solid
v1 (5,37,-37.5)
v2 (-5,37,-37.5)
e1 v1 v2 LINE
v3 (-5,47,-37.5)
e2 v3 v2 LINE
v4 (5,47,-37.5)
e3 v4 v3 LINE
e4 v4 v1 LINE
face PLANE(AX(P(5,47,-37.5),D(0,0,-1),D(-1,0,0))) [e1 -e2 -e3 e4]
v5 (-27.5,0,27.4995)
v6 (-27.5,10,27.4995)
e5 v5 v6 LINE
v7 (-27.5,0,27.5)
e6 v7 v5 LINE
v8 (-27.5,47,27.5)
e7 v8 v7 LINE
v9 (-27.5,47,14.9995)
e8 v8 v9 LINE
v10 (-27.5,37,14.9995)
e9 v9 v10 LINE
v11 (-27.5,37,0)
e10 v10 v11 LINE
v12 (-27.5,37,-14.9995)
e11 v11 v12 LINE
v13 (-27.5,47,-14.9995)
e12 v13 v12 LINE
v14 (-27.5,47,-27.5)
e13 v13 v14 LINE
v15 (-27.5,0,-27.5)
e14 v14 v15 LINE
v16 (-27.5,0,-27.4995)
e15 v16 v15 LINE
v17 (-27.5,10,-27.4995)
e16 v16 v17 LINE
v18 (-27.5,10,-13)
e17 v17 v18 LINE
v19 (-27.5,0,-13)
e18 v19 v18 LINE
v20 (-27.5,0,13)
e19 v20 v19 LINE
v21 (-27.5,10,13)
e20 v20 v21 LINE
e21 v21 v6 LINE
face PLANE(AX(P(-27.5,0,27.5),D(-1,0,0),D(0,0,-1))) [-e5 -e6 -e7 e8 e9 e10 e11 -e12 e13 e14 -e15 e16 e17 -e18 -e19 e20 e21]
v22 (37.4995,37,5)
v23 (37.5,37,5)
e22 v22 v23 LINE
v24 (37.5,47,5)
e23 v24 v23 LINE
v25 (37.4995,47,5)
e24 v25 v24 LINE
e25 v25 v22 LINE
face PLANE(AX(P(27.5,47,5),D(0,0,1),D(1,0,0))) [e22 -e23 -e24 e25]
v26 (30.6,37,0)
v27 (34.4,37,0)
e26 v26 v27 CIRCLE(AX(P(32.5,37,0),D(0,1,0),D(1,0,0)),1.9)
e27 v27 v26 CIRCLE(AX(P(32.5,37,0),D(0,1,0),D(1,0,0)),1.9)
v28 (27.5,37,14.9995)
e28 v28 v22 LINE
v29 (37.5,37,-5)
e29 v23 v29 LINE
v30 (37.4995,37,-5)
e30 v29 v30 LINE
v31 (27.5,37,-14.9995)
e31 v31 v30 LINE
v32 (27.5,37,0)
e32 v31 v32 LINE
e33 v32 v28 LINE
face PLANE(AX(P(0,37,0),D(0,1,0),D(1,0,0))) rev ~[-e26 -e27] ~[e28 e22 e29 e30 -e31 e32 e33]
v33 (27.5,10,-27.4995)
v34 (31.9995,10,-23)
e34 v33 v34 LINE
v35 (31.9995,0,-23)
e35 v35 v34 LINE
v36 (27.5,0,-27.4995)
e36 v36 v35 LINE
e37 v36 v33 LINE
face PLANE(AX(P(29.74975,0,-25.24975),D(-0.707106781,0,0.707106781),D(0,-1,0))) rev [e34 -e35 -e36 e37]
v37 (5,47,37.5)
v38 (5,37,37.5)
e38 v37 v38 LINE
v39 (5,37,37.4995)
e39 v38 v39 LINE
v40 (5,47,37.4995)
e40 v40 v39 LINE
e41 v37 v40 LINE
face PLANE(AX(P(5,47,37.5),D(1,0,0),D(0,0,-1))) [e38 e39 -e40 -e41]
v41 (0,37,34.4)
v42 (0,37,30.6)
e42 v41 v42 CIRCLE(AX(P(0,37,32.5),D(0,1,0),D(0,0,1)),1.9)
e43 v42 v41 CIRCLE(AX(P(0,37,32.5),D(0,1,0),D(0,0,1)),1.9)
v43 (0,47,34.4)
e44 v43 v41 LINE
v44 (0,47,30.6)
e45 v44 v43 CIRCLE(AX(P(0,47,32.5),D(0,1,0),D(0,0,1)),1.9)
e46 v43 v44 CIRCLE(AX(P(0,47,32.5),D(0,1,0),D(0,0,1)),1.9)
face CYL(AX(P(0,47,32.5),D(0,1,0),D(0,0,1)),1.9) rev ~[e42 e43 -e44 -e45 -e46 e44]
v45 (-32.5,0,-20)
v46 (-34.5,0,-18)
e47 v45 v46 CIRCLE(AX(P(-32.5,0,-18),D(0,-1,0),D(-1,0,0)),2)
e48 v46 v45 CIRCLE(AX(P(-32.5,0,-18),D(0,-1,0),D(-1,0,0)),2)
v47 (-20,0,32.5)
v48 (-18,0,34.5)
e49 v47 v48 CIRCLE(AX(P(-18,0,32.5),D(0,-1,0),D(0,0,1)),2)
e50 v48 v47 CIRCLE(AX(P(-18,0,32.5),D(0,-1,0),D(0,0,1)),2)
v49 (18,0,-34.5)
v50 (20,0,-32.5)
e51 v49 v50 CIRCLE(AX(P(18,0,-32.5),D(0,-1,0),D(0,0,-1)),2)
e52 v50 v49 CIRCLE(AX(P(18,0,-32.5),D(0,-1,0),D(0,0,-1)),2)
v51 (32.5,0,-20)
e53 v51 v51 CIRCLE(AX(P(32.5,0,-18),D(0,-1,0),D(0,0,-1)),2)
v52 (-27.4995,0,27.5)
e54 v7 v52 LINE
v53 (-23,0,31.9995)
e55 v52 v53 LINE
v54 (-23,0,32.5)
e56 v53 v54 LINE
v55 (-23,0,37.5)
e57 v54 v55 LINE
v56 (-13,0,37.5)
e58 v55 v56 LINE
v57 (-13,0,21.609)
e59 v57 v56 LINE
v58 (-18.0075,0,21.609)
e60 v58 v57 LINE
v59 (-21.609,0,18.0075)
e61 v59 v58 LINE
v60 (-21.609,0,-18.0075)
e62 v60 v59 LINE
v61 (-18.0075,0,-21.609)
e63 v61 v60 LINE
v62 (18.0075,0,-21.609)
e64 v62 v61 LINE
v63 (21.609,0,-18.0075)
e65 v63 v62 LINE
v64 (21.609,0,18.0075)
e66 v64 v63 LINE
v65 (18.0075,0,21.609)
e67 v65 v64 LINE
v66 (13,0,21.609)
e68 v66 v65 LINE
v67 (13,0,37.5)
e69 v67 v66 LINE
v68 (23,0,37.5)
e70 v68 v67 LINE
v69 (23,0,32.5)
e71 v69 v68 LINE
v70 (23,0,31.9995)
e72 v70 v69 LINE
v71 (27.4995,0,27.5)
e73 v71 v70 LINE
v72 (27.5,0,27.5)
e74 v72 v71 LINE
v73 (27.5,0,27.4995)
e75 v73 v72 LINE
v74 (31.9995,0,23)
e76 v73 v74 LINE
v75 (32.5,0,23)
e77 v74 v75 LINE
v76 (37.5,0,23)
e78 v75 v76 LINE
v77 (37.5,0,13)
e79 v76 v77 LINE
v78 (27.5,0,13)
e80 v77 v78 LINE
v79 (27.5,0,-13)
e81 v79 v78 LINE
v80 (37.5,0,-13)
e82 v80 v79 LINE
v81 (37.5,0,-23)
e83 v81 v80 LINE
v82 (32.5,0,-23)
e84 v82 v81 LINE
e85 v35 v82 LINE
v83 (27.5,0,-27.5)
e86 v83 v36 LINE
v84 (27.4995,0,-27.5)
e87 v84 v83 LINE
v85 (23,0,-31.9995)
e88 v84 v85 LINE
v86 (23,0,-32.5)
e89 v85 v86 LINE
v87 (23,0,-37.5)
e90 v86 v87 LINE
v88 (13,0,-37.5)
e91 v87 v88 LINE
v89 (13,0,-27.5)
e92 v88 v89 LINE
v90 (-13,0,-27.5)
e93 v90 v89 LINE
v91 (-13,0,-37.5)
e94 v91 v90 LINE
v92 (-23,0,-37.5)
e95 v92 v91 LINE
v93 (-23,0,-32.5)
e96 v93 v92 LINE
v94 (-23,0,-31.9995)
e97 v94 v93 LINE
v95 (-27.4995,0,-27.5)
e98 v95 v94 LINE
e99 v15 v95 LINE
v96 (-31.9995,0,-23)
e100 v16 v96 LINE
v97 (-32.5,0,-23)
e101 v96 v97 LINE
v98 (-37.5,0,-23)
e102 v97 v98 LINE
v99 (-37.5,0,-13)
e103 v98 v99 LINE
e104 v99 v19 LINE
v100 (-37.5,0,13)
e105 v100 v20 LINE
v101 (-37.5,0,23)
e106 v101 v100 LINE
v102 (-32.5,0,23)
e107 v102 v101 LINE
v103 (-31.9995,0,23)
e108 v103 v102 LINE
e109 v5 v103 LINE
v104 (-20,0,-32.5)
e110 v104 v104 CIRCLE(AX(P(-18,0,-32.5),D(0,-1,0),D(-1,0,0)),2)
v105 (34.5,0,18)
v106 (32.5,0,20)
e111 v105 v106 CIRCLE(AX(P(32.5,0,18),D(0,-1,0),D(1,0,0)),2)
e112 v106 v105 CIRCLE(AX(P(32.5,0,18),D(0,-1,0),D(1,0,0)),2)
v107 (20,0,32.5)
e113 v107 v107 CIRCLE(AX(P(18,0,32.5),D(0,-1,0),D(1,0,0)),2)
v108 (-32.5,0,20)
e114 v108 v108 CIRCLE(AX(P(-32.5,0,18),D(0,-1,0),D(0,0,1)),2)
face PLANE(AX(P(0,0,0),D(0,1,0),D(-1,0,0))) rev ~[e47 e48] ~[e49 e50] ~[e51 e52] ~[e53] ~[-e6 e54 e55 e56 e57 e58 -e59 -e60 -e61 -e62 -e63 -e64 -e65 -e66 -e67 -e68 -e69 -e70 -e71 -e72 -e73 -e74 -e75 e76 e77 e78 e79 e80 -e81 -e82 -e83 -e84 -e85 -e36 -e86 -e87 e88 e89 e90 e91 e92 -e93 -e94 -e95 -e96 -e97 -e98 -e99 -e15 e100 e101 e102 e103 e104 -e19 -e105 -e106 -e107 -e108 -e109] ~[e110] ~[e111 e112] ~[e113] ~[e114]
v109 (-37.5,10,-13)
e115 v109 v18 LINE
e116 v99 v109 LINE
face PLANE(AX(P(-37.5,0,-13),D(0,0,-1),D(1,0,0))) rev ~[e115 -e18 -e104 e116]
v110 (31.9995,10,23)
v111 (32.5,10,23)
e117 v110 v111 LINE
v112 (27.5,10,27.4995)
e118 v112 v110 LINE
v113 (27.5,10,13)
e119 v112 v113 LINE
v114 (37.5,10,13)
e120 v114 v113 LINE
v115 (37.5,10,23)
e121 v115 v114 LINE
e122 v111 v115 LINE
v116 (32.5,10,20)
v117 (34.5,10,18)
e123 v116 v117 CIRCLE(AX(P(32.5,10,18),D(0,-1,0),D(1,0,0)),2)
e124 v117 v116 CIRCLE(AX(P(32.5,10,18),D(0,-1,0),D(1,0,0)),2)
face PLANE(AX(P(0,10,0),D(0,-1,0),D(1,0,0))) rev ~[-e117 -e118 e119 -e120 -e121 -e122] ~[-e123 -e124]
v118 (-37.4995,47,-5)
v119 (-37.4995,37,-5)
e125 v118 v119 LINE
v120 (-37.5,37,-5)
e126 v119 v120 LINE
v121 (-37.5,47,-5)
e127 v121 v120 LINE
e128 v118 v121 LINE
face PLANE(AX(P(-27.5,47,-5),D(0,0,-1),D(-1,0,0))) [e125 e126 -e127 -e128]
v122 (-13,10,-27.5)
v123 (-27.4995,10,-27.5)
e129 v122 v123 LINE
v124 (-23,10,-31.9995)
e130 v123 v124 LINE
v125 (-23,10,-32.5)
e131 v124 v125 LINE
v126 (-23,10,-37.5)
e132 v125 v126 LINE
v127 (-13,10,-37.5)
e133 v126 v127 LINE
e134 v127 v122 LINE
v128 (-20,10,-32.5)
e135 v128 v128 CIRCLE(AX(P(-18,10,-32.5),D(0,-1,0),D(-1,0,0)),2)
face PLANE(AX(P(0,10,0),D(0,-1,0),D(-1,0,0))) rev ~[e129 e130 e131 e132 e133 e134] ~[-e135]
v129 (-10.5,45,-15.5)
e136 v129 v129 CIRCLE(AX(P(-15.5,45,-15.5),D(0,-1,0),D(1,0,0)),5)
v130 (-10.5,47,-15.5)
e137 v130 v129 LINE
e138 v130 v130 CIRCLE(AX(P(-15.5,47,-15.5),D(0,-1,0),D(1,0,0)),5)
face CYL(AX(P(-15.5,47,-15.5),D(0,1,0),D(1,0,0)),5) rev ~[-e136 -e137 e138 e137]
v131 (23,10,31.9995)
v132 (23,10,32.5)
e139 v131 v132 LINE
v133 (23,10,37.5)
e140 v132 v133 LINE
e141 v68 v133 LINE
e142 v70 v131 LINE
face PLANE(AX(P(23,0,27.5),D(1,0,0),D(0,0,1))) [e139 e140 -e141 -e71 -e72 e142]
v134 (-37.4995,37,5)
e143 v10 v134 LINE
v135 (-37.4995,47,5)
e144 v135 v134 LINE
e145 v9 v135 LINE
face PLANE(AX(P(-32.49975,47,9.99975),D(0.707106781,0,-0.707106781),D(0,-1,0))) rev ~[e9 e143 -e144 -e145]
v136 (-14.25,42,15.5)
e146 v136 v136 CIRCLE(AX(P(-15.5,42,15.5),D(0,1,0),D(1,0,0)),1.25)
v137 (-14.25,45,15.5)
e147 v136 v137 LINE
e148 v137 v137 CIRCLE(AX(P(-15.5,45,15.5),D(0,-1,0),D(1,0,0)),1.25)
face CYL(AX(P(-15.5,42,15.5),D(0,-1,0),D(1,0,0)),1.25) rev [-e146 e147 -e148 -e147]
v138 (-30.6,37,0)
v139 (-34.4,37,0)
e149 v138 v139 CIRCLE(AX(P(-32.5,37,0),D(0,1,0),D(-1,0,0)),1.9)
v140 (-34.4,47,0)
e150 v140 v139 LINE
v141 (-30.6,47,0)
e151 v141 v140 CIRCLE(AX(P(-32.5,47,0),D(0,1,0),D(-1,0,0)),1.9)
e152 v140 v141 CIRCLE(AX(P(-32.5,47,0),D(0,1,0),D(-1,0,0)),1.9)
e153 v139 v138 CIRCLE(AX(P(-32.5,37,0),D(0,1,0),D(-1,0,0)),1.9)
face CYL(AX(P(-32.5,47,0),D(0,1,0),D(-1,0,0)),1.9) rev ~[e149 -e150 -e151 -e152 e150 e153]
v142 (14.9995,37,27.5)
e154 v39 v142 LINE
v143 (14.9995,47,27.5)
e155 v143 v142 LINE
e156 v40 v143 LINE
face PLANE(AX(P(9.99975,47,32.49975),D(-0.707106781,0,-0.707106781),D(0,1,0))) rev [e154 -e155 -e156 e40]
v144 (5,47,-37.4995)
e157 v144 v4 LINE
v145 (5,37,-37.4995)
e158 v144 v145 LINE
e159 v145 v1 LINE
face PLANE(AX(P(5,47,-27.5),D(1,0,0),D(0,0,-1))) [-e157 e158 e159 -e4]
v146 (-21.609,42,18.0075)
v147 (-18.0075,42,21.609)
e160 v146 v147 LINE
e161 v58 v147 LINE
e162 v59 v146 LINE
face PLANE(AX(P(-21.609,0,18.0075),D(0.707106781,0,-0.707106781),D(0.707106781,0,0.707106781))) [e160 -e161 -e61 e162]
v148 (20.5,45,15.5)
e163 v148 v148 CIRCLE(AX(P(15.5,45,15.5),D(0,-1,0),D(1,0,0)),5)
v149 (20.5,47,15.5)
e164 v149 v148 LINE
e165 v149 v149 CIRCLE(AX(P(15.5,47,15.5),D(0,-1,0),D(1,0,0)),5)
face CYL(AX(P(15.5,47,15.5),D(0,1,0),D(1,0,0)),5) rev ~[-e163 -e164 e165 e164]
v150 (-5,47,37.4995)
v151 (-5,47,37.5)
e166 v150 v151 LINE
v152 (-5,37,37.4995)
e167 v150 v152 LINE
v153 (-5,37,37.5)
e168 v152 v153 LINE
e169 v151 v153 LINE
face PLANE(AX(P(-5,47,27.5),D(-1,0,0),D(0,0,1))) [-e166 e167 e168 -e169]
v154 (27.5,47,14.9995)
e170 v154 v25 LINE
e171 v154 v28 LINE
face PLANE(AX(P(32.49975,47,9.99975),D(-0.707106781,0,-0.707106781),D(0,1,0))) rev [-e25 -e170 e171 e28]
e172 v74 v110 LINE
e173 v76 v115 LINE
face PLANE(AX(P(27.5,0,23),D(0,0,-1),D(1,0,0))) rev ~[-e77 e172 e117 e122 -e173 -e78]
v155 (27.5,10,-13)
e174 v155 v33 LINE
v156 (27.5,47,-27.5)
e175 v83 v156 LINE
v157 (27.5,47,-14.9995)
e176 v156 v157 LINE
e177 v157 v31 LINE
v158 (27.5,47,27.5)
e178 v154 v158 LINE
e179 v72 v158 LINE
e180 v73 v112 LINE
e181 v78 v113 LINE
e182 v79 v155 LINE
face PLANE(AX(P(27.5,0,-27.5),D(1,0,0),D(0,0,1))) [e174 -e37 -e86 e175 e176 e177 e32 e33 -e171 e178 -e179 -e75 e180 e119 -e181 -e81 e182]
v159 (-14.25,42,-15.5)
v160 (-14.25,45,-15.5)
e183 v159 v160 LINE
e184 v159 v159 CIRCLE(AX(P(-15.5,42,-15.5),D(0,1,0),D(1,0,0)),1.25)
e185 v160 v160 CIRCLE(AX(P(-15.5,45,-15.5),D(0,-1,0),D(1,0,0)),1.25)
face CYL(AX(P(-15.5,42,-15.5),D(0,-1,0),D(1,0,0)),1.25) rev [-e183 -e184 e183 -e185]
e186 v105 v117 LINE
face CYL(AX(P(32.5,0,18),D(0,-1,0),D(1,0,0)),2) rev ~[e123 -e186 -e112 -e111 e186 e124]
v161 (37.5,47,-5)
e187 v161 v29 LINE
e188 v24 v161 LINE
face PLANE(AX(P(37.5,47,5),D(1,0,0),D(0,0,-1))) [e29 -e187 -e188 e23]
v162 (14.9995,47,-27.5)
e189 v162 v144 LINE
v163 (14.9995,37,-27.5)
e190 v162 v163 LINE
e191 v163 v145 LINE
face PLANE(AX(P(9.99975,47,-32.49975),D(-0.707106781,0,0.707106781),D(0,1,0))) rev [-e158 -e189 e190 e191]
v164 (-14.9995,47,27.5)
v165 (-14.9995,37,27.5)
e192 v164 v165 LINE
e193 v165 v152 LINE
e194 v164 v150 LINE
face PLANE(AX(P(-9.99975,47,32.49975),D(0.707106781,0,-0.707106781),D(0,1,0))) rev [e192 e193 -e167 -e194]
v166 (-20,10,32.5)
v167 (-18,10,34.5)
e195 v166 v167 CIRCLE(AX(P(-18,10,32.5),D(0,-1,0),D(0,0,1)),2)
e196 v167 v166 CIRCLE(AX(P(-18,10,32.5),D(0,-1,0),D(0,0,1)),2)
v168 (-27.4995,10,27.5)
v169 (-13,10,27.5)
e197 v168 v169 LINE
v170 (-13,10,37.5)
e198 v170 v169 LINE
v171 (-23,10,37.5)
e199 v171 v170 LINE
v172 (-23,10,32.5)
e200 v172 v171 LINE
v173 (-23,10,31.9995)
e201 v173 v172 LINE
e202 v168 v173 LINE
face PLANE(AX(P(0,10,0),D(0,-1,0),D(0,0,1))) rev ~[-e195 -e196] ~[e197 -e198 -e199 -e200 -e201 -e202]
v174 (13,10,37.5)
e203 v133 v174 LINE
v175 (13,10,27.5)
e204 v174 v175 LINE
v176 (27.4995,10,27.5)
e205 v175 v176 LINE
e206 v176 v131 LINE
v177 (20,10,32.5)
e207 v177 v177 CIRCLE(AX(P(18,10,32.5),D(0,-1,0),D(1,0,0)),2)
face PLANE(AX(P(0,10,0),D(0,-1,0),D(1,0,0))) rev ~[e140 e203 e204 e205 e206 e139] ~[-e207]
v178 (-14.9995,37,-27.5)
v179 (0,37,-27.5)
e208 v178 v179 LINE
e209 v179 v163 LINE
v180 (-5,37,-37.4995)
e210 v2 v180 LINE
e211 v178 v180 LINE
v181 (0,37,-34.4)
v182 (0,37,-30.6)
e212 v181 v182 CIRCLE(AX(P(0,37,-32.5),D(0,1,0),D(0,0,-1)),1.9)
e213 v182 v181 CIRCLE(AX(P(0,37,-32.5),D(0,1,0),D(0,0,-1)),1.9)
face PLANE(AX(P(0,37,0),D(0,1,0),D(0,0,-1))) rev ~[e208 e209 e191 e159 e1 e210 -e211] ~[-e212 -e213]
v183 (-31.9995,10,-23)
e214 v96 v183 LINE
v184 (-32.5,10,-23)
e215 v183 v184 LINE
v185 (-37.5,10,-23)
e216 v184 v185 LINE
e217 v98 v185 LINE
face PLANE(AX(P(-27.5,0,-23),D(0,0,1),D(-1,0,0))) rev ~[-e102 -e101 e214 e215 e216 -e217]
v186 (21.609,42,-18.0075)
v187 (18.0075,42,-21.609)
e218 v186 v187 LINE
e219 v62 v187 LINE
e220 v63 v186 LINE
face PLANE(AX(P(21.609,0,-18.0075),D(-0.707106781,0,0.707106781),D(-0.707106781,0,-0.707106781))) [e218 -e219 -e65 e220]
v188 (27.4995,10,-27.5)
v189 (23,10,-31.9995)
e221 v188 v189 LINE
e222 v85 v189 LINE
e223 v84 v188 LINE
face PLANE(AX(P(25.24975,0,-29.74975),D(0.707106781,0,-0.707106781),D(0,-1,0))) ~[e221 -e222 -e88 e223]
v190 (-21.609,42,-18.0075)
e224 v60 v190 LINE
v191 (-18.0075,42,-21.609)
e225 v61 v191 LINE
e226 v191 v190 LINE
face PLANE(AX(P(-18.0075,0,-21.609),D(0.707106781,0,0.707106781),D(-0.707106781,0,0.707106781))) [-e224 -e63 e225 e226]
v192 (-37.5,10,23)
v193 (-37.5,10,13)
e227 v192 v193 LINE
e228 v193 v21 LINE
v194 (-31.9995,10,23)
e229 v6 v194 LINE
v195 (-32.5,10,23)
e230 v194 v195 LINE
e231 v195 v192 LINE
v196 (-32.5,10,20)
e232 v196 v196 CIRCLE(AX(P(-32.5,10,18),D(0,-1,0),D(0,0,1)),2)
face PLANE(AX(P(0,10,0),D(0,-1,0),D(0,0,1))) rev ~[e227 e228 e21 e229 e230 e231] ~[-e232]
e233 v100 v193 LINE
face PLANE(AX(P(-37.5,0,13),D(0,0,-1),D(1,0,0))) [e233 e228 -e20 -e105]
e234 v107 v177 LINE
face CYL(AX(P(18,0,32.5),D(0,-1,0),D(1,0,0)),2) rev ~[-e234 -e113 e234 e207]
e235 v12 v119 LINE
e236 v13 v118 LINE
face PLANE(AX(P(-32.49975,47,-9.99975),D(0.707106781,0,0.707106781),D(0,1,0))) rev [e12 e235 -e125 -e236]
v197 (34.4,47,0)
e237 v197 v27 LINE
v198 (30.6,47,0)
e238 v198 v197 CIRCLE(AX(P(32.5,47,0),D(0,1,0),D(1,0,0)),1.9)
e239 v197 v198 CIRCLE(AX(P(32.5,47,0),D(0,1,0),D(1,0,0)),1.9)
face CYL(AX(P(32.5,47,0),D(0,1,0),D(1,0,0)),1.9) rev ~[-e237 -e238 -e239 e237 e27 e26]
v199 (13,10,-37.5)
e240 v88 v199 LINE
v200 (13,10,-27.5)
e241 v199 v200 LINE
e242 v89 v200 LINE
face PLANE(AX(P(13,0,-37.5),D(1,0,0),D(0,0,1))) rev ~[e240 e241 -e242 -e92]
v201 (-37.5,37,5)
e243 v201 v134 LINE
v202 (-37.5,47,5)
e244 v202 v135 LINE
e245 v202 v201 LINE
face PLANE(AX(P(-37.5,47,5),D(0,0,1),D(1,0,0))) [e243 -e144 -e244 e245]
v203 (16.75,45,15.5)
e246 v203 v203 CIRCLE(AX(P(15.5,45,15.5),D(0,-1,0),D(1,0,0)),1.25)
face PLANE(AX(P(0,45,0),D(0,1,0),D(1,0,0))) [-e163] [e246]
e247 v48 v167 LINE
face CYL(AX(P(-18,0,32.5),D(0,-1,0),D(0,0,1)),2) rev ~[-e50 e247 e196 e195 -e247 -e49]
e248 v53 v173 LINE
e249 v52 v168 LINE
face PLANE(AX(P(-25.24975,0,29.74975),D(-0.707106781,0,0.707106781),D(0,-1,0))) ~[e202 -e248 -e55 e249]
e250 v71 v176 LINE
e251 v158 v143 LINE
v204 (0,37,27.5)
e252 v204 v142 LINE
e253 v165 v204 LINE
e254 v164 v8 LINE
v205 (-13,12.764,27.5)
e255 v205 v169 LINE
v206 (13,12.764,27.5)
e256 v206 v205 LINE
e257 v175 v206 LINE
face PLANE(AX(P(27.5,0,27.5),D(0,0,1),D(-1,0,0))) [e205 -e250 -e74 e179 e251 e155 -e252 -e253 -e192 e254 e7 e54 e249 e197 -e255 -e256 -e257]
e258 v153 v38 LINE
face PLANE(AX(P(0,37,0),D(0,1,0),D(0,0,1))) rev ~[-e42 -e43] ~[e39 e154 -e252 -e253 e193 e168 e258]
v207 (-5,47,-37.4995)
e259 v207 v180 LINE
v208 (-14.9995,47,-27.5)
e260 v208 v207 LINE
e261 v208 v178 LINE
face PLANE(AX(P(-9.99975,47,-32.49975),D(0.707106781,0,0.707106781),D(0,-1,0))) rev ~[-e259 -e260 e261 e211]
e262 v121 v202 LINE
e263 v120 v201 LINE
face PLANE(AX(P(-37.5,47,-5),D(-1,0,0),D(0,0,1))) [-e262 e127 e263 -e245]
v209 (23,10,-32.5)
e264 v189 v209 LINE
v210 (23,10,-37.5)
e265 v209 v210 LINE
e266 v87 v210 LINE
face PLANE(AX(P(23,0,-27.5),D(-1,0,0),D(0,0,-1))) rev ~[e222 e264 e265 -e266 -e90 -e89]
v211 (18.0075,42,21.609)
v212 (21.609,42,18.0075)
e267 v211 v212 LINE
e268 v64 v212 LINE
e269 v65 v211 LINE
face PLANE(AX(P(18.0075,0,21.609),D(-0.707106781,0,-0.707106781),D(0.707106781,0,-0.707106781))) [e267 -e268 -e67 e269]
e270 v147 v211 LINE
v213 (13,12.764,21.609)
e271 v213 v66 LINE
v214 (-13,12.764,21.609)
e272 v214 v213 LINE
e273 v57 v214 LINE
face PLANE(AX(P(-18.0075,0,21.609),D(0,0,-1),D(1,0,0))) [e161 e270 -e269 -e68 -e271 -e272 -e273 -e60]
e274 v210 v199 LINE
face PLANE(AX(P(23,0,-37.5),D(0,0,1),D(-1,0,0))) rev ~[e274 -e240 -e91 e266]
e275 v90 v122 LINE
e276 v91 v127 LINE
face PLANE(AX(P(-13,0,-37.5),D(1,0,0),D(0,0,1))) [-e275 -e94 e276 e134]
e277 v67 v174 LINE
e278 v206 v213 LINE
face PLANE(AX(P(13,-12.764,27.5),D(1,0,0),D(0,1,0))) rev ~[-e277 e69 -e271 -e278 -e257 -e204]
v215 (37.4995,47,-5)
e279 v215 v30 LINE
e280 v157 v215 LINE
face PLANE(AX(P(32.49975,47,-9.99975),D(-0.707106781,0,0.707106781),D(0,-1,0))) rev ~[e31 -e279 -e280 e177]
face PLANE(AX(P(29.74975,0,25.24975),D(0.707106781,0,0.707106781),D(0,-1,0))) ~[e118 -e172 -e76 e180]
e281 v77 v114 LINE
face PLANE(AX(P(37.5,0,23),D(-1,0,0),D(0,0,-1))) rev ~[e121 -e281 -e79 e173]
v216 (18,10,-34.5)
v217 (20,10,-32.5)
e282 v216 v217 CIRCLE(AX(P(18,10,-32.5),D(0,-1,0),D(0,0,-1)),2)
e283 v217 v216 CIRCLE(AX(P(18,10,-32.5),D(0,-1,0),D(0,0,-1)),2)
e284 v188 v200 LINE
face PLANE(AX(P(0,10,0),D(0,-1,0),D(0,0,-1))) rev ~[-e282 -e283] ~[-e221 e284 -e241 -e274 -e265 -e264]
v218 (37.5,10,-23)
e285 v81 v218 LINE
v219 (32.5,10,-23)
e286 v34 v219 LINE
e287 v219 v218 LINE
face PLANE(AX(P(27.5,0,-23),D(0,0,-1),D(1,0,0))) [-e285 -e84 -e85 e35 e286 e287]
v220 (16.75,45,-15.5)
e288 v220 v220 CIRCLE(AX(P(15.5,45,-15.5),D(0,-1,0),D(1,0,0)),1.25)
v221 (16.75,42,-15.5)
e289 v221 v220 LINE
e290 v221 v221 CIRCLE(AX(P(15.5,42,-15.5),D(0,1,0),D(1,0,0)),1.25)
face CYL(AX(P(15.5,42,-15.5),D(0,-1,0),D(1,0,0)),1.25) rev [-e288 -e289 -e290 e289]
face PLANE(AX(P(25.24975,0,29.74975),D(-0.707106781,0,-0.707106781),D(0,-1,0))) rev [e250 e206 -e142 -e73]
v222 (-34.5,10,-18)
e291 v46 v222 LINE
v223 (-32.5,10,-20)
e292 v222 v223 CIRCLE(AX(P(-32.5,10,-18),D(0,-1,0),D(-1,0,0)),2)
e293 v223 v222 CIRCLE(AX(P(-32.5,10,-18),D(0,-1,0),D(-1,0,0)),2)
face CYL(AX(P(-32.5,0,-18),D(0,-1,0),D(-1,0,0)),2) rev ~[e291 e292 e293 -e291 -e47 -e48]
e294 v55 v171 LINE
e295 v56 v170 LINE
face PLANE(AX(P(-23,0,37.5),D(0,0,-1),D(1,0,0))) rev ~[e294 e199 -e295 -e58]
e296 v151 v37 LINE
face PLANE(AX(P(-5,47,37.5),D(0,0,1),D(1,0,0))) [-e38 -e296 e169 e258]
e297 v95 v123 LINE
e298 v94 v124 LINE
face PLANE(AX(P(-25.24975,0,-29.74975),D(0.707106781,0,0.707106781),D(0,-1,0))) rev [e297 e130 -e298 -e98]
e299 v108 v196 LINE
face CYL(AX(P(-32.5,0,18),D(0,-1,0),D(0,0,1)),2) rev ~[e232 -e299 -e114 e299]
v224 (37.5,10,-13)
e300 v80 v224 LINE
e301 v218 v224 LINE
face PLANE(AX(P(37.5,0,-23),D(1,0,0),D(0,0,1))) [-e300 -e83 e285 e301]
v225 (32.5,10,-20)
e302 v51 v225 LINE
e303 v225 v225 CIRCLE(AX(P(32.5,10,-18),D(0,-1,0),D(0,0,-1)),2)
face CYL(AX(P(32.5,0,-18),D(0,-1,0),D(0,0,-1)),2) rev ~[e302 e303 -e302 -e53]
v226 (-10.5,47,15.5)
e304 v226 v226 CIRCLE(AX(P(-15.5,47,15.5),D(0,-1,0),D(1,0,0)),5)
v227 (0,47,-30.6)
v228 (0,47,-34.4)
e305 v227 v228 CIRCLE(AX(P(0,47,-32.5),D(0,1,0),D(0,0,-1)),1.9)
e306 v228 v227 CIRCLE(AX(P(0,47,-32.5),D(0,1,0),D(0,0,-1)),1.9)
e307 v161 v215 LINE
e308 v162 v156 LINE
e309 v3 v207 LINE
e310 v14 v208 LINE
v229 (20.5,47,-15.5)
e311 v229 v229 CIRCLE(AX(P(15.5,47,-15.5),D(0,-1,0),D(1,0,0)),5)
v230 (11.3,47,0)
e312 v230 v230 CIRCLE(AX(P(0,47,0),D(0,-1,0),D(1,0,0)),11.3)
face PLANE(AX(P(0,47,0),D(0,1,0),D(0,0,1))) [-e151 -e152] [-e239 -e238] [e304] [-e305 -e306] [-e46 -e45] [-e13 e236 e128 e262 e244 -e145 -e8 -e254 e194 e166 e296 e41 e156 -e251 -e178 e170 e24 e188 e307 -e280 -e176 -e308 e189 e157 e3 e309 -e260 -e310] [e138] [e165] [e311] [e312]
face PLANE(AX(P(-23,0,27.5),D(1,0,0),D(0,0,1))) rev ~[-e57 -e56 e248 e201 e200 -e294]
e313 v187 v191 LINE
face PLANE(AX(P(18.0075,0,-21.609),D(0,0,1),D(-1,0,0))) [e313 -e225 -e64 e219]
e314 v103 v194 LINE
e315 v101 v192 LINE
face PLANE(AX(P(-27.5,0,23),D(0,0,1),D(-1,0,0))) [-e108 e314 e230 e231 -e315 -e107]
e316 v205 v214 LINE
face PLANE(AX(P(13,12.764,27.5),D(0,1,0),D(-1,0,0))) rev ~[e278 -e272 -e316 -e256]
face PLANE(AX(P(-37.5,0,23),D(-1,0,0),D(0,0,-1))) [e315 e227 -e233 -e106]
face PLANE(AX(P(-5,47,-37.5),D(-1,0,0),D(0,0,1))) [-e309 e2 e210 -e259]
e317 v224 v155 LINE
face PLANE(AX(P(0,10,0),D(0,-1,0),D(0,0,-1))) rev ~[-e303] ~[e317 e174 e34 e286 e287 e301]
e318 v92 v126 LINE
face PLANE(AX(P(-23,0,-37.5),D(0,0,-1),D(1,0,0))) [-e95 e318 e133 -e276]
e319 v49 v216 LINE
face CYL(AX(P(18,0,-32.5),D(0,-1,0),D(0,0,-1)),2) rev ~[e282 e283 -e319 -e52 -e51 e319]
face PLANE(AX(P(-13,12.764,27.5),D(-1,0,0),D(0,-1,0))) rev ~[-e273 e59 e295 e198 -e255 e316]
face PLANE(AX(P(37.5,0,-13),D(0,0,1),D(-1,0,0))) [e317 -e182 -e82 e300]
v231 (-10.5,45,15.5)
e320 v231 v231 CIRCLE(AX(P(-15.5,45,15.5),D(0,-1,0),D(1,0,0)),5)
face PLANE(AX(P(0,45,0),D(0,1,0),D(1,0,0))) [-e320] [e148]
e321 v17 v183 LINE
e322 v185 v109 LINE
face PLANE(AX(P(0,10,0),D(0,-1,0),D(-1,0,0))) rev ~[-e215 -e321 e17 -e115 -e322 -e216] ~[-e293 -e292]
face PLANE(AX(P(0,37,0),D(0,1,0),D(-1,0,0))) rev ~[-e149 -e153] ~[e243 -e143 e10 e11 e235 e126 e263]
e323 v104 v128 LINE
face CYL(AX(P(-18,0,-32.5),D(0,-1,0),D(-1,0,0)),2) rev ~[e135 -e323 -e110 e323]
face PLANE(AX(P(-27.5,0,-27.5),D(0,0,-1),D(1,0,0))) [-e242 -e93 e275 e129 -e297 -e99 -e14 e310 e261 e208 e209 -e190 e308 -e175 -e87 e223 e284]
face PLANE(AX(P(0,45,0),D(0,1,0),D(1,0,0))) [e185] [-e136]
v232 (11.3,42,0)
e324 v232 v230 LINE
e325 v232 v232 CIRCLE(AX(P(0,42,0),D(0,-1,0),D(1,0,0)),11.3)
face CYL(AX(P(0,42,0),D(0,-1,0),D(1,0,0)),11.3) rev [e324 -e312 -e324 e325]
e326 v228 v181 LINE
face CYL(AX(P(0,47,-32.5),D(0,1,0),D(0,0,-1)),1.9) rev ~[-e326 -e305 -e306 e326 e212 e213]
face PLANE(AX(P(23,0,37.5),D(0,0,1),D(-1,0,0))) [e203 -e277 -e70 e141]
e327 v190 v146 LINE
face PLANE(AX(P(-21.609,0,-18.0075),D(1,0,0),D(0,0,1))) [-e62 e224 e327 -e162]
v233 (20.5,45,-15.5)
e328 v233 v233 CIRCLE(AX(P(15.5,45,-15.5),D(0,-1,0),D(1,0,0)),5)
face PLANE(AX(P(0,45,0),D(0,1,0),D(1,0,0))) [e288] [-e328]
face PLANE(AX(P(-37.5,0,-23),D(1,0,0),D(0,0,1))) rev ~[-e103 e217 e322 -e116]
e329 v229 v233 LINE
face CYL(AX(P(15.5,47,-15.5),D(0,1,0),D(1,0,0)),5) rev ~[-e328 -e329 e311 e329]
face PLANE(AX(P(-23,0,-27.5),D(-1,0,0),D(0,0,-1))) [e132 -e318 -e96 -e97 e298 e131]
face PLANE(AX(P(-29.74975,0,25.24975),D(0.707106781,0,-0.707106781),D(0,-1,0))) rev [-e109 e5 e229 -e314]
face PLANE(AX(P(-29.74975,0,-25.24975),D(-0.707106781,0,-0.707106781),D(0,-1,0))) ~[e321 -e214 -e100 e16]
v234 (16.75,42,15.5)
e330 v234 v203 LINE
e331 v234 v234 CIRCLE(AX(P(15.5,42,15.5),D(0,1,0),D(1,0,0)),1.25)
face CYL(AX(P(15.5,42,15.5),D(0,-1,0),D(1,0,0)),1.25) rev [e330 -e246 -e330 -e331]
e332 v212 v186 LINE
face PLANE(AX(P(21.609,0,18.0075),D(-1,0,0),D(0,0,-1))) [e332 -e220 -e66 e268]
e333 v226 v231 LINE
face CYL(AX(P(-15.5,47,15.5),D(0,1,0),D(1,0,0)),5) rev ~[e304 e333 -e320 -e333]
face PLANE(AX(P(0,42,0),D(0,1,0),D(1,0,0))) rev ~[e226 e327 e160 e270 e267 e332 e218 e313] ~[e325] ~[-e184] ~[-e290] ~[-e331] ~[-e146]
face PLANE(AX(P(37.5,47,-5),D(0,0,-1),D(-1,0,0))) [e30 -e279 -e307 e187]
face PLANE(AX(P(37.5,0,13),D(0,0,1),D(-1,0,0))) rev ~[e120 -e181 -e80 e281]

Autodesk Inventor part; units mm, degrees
ref_plane "YZ Plane" through (0, 0, 0) normal (1, 0, 0) x (0, 1, 0)
ref_plane "XZ Plane" through (0, 0, 0) normal (0, 1, 0) x (-1, 0, 0)
ref_plane "XY Plane" through (0, 0, 0) normal (0, 0, 1) x (1, 0, 0)
sketch "Эскиз1" plane through (0, 0, 0) normal (0, 1, 0) x (-1, 0, 0)
  line L0 (-18.0075, 21.609) -> (-21.609, 18.0075)
  line L1 (-21.609, -18.0075) -> (-18.0075, -21.609)
  line L2 (18.0075, -21.609) -> (21.609, -18.0075)
  line L3 (21.609, -18.0075) -> (21.609, 18.0075)
  line L4 (21.609, 18.0075) -> (18.0075, 21.609)
  line L5 (18.0075, 21.609) -> (-18.0075, 21.609)
  circle A0 centre (0, 0) radius 11.3
  circle A1 centre (-15.5, -15.5) radius 1.25
  circle A2 centre (15.5, -15.5) radius 1.25
  circle A3 centre (15.5, 15.5) radius 1.25
  circle A4 centre (-15.5, 15.5) radius 1.25
  line L6 (13.4172, 20.8) -> (6, 20.8)
  line L7 (20.8, 13.4172) -> (13.4172, 20.8)
  line L8 (20.8, -13.4172) -> (20.8, 13.4172)
  line L9 (13.4172, -20.8) -> (20.8, -13.4172)
  line L10 (-13.4172, -20.8) -> (13.4172, -20.8)
  line L11 (-20.8, -13.4172) -> (-13.4172, -20.8)
  line L12 (-20.8, 13.4172) -> (-20.8, -13.4172)
  line L13 (-13.4172, 20.8) -> (-20.8, 13.4172)
  line L14 (-6, 20.8) -> (-13.4172, 20.8)
  line L15 (-21.609, 18.0075) -> (-21.609, -18.0075)
  line L16 (-18.0075, -21.609) -> (18.0075, -21.609)
  line L17 (-27.5, 27.5) -> (27.5, 27.5)
  line L18 (27.5, 27.5) -> (27.5, -27.5)
  line L19 (27.5, -27.5) -> (-27.5, -27.5)
  line L20 (-27.5, -27.5) -> (-27.5, 27.5)
  line L21 (-27.5, 27.5) -> (27.5, -27.5) construction
  line L22 (27.5, 27.5) -> (-27.5, -27.5) construction
  line L23 (-6, 20.8) -> (6, 20.8)
  point P0 (0, 0)
  dimension "d0" = 55
extrude "Выдавливание1" add sketch "Эскиз1" along normal blind 42 contours L17 L18 L19 L20
sketch "Эскиз3" plane through (-27.5, 0, 27.5) normal (0, 0, 1) x (1, 0, 0)
  line L0 (19.5, 0) -> (35.5, 0)
  line L1 (35.5, 0) -> (35.5, 15)
  line L2 (35.5, 15) -> (19.5, 15)
  line L3 (19.5, 15) -> (19.5, 0)
  point P0 (27.5, 0)
  dimension "d6" = 15
extrude "Выдавливание3" cut sketch "Эскиз3" against normal blind 13.5
sketch "Эскиз4" plane through (0, 42, 0) normal (0, 1, 0) x (1, 0, 0)
  line L0 (-18.0075, 21.609) -> (-21.609, 18.0075)
  line L1 (-21.609, -18.0075) -> (-18.0075, -21.609)
  line L2 (18.0075, -21.609) -> (21.609, -18.0075)
  line L3 (21.609, -18.0075) -> (21.609, 18.0075)
  line L4 (21.609, 18.0075) -> (18.0075, 21.609)
  line L5 (18.0075, 21.609) -> (-18.0075, 21.609)
  circle A0 centre (0, 0) radius 11.3
  circle A1 centre (-15.5, -15.5) radius 1.25
  circle A2 centre (15.5, -15.5) radius 1.25
  circle A3 centre (15.5, 15.5) radius 1.25
  circle A4 centre (-15.5, 15.5) radius 1.25
  line L6 (13.4172, 20.8) -> (6, 20.8)
  line L7 (20.8, 13.4172) -> (13.4172, 20.8)
  line L8 (20.8, -13.4172) -> (20.8, 13.4172)
  line L9 (13.4172, -20.8) -> (20.8, -13.4172)
  line L10 (-13.4172, -20.8) -> (13.4172, -20.8)
  line L11 (-20.8, -13.4172) -> (-13.4172, -20.8)
  line L12 (-20.8, 13.4172) -> (-20.8, -13.4172)
  line L13 (-13.4172, 20.8) -> (-20.8, 13.4172)
  line L14 (-6, 20.8) -> (-13.4172, 20.8)
  line L15 (-21.609, 18.0075) -> (-21.609, -18.0075)
  line L16 (-18.0075, -21.609) -> (18.0075, -21.609)
  line L17 (-27.5, 27.5) -> (27.5, 27.5)
  line L18 (27.5, 27.5) -> (27.5, -27.5)
  line L19 (27.5, -27.5) -> (-27.5, -27.5)
  line L20 (-27.5, -27.5) -> (-27.5, 27.5)
  line L21 (-27.5, 27.5) -> (27.5, -27.5) construction
  line L22 (27.5, 27.5) -> (-27.5, -27.5) construction
  line L23 (-6, 20.8) -> (6, 20.8)
  point P0 (0, 0)
  dimension "d12" = 55
extrude "Выдавливание4" add sketch "Эскиз4" along normal blind 5 contours L5 L4 L3 L2 L16 L1 L15 L0 | L7 L8 L9 L10 L11 L12 L13 L14 L23 L6 | L17 L18 L19 L20
sketch "Эскиз5" plane through (0, 47, 0) normal (0, 1, 0) x (1, 0, 0)
  circle A0 centre (-15.5, -15.5) radius 1.25 projected
  circle A1 centre (-15.5, -15.5) radius 5
  circle A2 centre (-15.5, 15.5) radius 1.25 projected
  circle A3 centre (-15.5, 15.5) radius 5
  circle A4 centre (15.5, 15.5) radius 1.25 projected
  circle A5 centre (15.5, 15.5) radius 5
  circle A6 centre (15.5, -15.5) radius 1.25 projected
  circle A7 centre (15.5, -15.5) radius 5
  point P0 (0, 0)
  dimension "d15" = 10
  dimension "d16" = 10
  dimension "d17" = 10
  dimension "d18" = 10
extrude "Выдавливание5" cut sketch "Эскиз5" against normal blind 2
sketch "Эскиз6" plane through (0, 0, 0) normal (0, -1, 0) x (1, 0, 0)
  line L0 (13, 27.5) -> (23, 27.5)
  line L1 (23, 27.5) -> (23, 37.5)
  line L2 (23, 37.5) -> (13, 37.5)
  line L3 (13, 37.5) -> (13, 27.5)
  line L4 (27.5, 27.5) -> (27.5, 23)
  line L5 (27.5, 23) -> (37.5, 23)
  line L6 (37.5, 23) -> (37.5, 13)
  line L7 (37.5, 13) -> (27.5, 13)
  line L8 (27.5, 13) -> (27.5, 23)
  line L9 (32.5, 23) -> (32.5, 18)
  circle A0 centre (32.5, 18) radius 2
  line L10 (23, 32.5) -> (18, 32.5)
  circle A1 centre (18, 32.5) radius 2
  line L11 (0, 0) -> (6.2032, 0)
  dimension "d22" = 10
  dimension "d23" = 10
  dimension "d24" = 4.5
  dimension "d25" = 10
  dimension "d26" = 10
  dimension "d27" = 4
  dimension "d28" = 5
  dimension "d29" = 4
extrude "Выдавливание6" add sketch "Эскиз6" against normal blind 10
chamfer "Фаска1" distance 4.5 angle 45 2 edges at (27.5, 5, 23) (23, 5, 27.5)
pattern_circular "Круговой массив1" count 4 over 360 about axis through (0, 42, 0) along (0, 1, 0)
sketch "Эскиз7" plane through (0, 0, 0) normal (0, -1, 0) x (1, 0, 0)
  circle A0 centre (-32.5, -18) radius 2 projected
  circle A1 centre (-18, -32.5) radius 2 projected
  line L0 (13, 27.5) -> (-13, 27.5) projected
  line L1 (-13, 27.5) -> (-13, 37.5) projected
  line L2 (-13, 37.5) -> (-23, 37.5) projected
  line L3 (-23, 37.5) -> (-23, 32) projected
  line L4 (-32, 23) -> (-23, 32) projected
  line L5 (-32, 23) -> (-37.5, 23) projected
  line L6 (-37.5, 23) -> (-37.5, 13) projected
  line L7 (-37.5, 13) -> (-27.5, 13) projected
  line L8 (-27.5, 13) -> (-27.5, -13) projected
  line L9 (-27.5, -13) -> (-37.5, -13) projected
  line L10 (-37.5, -13) -> (-37.5, -23) projected
  line L11 (-37.5, -23) -> (-32, -23) projected
  line L12 (-23, -32) -> (-32, -23) projected
  line L13 (-23, -32) -> (-23, -37.5) projected
  line L14 (-23, -37.5) -> (-13, -37.5) projected
  line L15 (-13, -37.5) -> (-13, -27.5) projected
  line L16 (-13, -27.5) -> (13, -27.5) projected
  line L17 (13, -27.5) -> (13, -37.5) projected
  line L18 (13, -37.5) -> (23, -37.5) projected
  line L19 (23, -37.5) -> (23, -32) projected
  line L20 (32, -23) -> (23, -32) projected
  line L21 (32, -23) -> (37.5, -23) projected
  line L22 (37.5, -23) -> (37.5, -13) projected
  line L23 (37.5, -13) -> (27.5, -13) projected
  line L24 (27.5, -13) -> (27.5, 13) projected
  line L25 (27.5, 13) -> (37.5, 13) projected
  line L26 (37.5, 13) -> (37.5, 23) projected
  line L27 (37.5, 23) -> (32, 23) projected
  line L28 (23, 32) -> (32, 23) projected
  line L29 (23, 32) -> (23, 37.5) projected
  line L30 (23, 37.5) -> (13, 37.5) projected
  line L31 (13, 37.5) -> (13, 27.5) projected
  circle A2 centre (-18, 32.5) radius 2 projected
  circle A3 centre (-32.5, 18) radius 2 projected
  circle A4 centre (18, -32.5) radius 2 projected
  circle A5 centre (32.5, -18) radius 2 projected
  circle A6 centre (18, 32.5) radius 2 projected
  line L32 (-18.0075, 21.609) -> (18.0075, 21.609) projected
  line L33 (18.0075, 21.609) -> (21.609, 18.0075) projected
  line L34 (21.609, 18.0075) -> (21.609, -18.0075) projected
  line L35 (21.609, -18.0075) -> (18.0075, -21.609) projected
  line L36 (18.0075, -21.609) -> (-18.0075, -21.609) projected
  line L37 (-18.0075, -21.609) -> (-21.609, -18.0075) projected
  line L38 (-21.609, -18.0075) -> (-21.609, 18.0075) projected
  line L39 (-21.609, 18.0075) -> (-18.0075, 21.609) projected
  circle A7 centre (32.5, 18) radius 2 projected
  arc A8 (0, -11.3) -> (11.3, 0) centre (0, 0) ccw projected
  arc A9 (0, -11.3) -> (11.3, 0) centre (0, 0) ccw projected
  arc A10 (0, -11.3) -> (11.3, 0) centre (0, 0) ccw projected
  arc A11 (0, -11.3) -> (11.3, 0) centre (0, 0) ccw projected
  point P0 (-11.3, 0)
  point P1 (0, 11.3)
sketch "Эскиз9" plane through (0, 47, 0) normal (0, 1, 0) x (1, 0, 0)
  line L0 (27.5, 13) -> (27.5, -13) projected
  line L1 (27.5, 0) -> (32.5, 0)
  line L2 (37.5, 5) -> (27.5, 5)
  line L3 (27.5, 5) -> (27.5, -5)
  line L4 (27.5, -5) -> (37.5, -5)
  line L5 (37.5, -5) -> (37.5, 5)
  line L6 (37.5, 5) -> (27.5, -5) construction
  line L7 (27.5, 5) -> (37.5, -5) construction
  circle A0 centre (32.5, 0) radius 1.9
  point P0 (0, 0)
  dimension "d40" = 5
  dimension "d41" = 10
  dimension "d42" = 10
  dimension "d43" = 3.8
extrude "Выдавливание8" add sketch "Эскиз9" against normal blind 10
pattern_circular "Круговой массив3" count 4 over 360 about axis through (0, 42, 0) along (0, 1, 0) of "Выдавливание8"
chamfer "Фаска4" distance 10 angle 45 8 edges at (5, 42, 27.5) (-5, 42, 27.5) (27.5, 42, 5) (27.5, 42, -5) (5, 42, -27.5) (-5, 42, -27.5) (-27.5, 42, -5) (-27.5, 42, 5)
sketch "Эскиз10" plane through (0, 47, 0) normal (0, 1, 0) x (1, 0, 0)
  line L0 (15, -27.5) -> (5, -37.5) projected
  line L1 (5, -37.5) -> (-5, -37.5) projected
  line L2 (-5, -37.5) -> (-15, -27.5) projected
  line L3 (-15, -27.5) -> (-27.5, -27.5) projected
  line L4 (-27.5, -27.5) -> (-27.5, -15) projected
  line L5 (-27.5, -15) -> (-37.5, -5) projected
  line L6 (-37.5, -5) -> (-37.5, 5) projected
  line L7 (-37.5, 5) -> (-27.5, 15) projected
  line L8 (-27.5, 15) -> (-27.5, 27.5) projected
  line L9 (-27.5, 27.5) -> (-15, 27.5) projected
  line L10 (-15, 27.5) -> (-5, 37.5) projected
  line L11 (-5, 37.5) -> (5, 37.5) projected
  line L12 (5, 37.5) -> (15, 27.5) projected
  line L13 (15, 27.5) -> (27.5, 27.5) projected
  line L14 (27.5, 27.5) -> (27.5, 15) projected
  line L15 (27.5, 15) -> (37.5, 5) projected
  line L16 (37.5, 5) -> (37.5, -5) projected
  line L17 (37.5, -5) -> (27.5, -15) projected
  line L18 (27.5, -15) -> (27.5, -27.5) projected
  line L19 (27.5, -27.5) -> (15, -27.5) projected
  circle A0 centre (0, -32.5) radius 1.9 projected
  circle A1 centre (-32.5, 0) radius 1.9 projected
  circle A2 centre (0, 32.5) radius 1.9 projected
  circle A3 centre (32.5, 0) radius 1.9 projected
  arc A4 (20.5, 15.5) -> (15.5, 20.5) centre (15.5, 15.5) ccw projected
  arc A5 (15.5, 20.5) -> (10.5, 15.5) centre (15.5, 15.5) ccw projected
  arc A6 (10.5, 15.5) -> (15.5, 10.5) centre (15.5, 15.5) ccw projected
  arc A7 (15.5, 10.5) -> (20.5, 15.5) centre (15.5, 15.5) ccw projected
  arc A8 (-10.5, -15.5) -> (-15.5, -10.5) centre (-15.5, -15.5) ccw projected
  arc A9 (-15.5, -10.5) -> (-20.5, -15.5) centre (-15.5, -15.5) ccw projected
  arc A10 (-20.5, -15.5) -> (-15.5, -20.5) centre (-15.5, -15.5) ccw projected
  arc A11 (-15.5, -20.5) -> (-10.5, -15.5) centre (-15.5, -15.5) ccw projected
  arc A12 (-10.5, 15.5) -> (-15.5, 20.5) centre (-15.5, 15.5) ccw projected
  arc A13 (-15.5, 20.5) -> (-20.5, 15.5) centre (-15.5, 15.5) ccw projected
  arc A14 (-20.5, 15.5) -> (-15.5, 10.5) centre (-15.5, 15.5) ccw projected
  arc A15 (-15.5, 10.5) -> (-10.5, 15.5) centre (-15.5, 15.5) ccw projected
  arc A16 (20.5, -15.5) -> (15.5, -10.5) centre (15.5, -15.5) ccw projected
  arc A17 (15.5, -10.5) -> (10.5, -15.5) centre (15.5, -15.5) ccw projected
  arc A18 (10.5, -15.5) -> (15.5, -20.5) centre (15.5, -15.5) ccw projected
  arc A19 (15.5, -20.5) -> (20.5, -15.5) centre (15.5, -15.5) ccw projected
  arc A20 (11.3, 0) -> (0, 11.3) centre (0, 0) ccw projected
  arc A21 (0, 11.3) -> (-11.3, 0) centre (0, 0) ccw projected
  arc A22 (-11.3, 0) -> (0, -11.3) centre (0, 0) ccw projected
  arc A23 (0, -11.3) -> (11.3, 0) centre (0, 0) ccw projected
sketch "Эскиз11" plane through (13, 0, 27.5) normal (0, 0, 1) x (1, 0, 0)
  line L0 (-26, -12.764) -> (0, -12.764)
  line L1 (0, -12.764) -> (0, 12.764)
  line L2 (0, 12.764) -> (-26, 12.764)
  line L3 (-26, 12.764) -> (-26, -12.764)
  line L4 (-26, -12.764) -> (0, 12.764) construction
  line L5 (0, -12.764) -> (-26, 12.764) construction
  line L6 (-26, 0) -> (-26, 10) projected
  point P0 (-13, 0)
  dimension "d63" = 0
extrude "Выдавливание9" cut sketch "Эскиз11" against normal blind 10
properties part number "motor_holder" material "Пластик АБС"
